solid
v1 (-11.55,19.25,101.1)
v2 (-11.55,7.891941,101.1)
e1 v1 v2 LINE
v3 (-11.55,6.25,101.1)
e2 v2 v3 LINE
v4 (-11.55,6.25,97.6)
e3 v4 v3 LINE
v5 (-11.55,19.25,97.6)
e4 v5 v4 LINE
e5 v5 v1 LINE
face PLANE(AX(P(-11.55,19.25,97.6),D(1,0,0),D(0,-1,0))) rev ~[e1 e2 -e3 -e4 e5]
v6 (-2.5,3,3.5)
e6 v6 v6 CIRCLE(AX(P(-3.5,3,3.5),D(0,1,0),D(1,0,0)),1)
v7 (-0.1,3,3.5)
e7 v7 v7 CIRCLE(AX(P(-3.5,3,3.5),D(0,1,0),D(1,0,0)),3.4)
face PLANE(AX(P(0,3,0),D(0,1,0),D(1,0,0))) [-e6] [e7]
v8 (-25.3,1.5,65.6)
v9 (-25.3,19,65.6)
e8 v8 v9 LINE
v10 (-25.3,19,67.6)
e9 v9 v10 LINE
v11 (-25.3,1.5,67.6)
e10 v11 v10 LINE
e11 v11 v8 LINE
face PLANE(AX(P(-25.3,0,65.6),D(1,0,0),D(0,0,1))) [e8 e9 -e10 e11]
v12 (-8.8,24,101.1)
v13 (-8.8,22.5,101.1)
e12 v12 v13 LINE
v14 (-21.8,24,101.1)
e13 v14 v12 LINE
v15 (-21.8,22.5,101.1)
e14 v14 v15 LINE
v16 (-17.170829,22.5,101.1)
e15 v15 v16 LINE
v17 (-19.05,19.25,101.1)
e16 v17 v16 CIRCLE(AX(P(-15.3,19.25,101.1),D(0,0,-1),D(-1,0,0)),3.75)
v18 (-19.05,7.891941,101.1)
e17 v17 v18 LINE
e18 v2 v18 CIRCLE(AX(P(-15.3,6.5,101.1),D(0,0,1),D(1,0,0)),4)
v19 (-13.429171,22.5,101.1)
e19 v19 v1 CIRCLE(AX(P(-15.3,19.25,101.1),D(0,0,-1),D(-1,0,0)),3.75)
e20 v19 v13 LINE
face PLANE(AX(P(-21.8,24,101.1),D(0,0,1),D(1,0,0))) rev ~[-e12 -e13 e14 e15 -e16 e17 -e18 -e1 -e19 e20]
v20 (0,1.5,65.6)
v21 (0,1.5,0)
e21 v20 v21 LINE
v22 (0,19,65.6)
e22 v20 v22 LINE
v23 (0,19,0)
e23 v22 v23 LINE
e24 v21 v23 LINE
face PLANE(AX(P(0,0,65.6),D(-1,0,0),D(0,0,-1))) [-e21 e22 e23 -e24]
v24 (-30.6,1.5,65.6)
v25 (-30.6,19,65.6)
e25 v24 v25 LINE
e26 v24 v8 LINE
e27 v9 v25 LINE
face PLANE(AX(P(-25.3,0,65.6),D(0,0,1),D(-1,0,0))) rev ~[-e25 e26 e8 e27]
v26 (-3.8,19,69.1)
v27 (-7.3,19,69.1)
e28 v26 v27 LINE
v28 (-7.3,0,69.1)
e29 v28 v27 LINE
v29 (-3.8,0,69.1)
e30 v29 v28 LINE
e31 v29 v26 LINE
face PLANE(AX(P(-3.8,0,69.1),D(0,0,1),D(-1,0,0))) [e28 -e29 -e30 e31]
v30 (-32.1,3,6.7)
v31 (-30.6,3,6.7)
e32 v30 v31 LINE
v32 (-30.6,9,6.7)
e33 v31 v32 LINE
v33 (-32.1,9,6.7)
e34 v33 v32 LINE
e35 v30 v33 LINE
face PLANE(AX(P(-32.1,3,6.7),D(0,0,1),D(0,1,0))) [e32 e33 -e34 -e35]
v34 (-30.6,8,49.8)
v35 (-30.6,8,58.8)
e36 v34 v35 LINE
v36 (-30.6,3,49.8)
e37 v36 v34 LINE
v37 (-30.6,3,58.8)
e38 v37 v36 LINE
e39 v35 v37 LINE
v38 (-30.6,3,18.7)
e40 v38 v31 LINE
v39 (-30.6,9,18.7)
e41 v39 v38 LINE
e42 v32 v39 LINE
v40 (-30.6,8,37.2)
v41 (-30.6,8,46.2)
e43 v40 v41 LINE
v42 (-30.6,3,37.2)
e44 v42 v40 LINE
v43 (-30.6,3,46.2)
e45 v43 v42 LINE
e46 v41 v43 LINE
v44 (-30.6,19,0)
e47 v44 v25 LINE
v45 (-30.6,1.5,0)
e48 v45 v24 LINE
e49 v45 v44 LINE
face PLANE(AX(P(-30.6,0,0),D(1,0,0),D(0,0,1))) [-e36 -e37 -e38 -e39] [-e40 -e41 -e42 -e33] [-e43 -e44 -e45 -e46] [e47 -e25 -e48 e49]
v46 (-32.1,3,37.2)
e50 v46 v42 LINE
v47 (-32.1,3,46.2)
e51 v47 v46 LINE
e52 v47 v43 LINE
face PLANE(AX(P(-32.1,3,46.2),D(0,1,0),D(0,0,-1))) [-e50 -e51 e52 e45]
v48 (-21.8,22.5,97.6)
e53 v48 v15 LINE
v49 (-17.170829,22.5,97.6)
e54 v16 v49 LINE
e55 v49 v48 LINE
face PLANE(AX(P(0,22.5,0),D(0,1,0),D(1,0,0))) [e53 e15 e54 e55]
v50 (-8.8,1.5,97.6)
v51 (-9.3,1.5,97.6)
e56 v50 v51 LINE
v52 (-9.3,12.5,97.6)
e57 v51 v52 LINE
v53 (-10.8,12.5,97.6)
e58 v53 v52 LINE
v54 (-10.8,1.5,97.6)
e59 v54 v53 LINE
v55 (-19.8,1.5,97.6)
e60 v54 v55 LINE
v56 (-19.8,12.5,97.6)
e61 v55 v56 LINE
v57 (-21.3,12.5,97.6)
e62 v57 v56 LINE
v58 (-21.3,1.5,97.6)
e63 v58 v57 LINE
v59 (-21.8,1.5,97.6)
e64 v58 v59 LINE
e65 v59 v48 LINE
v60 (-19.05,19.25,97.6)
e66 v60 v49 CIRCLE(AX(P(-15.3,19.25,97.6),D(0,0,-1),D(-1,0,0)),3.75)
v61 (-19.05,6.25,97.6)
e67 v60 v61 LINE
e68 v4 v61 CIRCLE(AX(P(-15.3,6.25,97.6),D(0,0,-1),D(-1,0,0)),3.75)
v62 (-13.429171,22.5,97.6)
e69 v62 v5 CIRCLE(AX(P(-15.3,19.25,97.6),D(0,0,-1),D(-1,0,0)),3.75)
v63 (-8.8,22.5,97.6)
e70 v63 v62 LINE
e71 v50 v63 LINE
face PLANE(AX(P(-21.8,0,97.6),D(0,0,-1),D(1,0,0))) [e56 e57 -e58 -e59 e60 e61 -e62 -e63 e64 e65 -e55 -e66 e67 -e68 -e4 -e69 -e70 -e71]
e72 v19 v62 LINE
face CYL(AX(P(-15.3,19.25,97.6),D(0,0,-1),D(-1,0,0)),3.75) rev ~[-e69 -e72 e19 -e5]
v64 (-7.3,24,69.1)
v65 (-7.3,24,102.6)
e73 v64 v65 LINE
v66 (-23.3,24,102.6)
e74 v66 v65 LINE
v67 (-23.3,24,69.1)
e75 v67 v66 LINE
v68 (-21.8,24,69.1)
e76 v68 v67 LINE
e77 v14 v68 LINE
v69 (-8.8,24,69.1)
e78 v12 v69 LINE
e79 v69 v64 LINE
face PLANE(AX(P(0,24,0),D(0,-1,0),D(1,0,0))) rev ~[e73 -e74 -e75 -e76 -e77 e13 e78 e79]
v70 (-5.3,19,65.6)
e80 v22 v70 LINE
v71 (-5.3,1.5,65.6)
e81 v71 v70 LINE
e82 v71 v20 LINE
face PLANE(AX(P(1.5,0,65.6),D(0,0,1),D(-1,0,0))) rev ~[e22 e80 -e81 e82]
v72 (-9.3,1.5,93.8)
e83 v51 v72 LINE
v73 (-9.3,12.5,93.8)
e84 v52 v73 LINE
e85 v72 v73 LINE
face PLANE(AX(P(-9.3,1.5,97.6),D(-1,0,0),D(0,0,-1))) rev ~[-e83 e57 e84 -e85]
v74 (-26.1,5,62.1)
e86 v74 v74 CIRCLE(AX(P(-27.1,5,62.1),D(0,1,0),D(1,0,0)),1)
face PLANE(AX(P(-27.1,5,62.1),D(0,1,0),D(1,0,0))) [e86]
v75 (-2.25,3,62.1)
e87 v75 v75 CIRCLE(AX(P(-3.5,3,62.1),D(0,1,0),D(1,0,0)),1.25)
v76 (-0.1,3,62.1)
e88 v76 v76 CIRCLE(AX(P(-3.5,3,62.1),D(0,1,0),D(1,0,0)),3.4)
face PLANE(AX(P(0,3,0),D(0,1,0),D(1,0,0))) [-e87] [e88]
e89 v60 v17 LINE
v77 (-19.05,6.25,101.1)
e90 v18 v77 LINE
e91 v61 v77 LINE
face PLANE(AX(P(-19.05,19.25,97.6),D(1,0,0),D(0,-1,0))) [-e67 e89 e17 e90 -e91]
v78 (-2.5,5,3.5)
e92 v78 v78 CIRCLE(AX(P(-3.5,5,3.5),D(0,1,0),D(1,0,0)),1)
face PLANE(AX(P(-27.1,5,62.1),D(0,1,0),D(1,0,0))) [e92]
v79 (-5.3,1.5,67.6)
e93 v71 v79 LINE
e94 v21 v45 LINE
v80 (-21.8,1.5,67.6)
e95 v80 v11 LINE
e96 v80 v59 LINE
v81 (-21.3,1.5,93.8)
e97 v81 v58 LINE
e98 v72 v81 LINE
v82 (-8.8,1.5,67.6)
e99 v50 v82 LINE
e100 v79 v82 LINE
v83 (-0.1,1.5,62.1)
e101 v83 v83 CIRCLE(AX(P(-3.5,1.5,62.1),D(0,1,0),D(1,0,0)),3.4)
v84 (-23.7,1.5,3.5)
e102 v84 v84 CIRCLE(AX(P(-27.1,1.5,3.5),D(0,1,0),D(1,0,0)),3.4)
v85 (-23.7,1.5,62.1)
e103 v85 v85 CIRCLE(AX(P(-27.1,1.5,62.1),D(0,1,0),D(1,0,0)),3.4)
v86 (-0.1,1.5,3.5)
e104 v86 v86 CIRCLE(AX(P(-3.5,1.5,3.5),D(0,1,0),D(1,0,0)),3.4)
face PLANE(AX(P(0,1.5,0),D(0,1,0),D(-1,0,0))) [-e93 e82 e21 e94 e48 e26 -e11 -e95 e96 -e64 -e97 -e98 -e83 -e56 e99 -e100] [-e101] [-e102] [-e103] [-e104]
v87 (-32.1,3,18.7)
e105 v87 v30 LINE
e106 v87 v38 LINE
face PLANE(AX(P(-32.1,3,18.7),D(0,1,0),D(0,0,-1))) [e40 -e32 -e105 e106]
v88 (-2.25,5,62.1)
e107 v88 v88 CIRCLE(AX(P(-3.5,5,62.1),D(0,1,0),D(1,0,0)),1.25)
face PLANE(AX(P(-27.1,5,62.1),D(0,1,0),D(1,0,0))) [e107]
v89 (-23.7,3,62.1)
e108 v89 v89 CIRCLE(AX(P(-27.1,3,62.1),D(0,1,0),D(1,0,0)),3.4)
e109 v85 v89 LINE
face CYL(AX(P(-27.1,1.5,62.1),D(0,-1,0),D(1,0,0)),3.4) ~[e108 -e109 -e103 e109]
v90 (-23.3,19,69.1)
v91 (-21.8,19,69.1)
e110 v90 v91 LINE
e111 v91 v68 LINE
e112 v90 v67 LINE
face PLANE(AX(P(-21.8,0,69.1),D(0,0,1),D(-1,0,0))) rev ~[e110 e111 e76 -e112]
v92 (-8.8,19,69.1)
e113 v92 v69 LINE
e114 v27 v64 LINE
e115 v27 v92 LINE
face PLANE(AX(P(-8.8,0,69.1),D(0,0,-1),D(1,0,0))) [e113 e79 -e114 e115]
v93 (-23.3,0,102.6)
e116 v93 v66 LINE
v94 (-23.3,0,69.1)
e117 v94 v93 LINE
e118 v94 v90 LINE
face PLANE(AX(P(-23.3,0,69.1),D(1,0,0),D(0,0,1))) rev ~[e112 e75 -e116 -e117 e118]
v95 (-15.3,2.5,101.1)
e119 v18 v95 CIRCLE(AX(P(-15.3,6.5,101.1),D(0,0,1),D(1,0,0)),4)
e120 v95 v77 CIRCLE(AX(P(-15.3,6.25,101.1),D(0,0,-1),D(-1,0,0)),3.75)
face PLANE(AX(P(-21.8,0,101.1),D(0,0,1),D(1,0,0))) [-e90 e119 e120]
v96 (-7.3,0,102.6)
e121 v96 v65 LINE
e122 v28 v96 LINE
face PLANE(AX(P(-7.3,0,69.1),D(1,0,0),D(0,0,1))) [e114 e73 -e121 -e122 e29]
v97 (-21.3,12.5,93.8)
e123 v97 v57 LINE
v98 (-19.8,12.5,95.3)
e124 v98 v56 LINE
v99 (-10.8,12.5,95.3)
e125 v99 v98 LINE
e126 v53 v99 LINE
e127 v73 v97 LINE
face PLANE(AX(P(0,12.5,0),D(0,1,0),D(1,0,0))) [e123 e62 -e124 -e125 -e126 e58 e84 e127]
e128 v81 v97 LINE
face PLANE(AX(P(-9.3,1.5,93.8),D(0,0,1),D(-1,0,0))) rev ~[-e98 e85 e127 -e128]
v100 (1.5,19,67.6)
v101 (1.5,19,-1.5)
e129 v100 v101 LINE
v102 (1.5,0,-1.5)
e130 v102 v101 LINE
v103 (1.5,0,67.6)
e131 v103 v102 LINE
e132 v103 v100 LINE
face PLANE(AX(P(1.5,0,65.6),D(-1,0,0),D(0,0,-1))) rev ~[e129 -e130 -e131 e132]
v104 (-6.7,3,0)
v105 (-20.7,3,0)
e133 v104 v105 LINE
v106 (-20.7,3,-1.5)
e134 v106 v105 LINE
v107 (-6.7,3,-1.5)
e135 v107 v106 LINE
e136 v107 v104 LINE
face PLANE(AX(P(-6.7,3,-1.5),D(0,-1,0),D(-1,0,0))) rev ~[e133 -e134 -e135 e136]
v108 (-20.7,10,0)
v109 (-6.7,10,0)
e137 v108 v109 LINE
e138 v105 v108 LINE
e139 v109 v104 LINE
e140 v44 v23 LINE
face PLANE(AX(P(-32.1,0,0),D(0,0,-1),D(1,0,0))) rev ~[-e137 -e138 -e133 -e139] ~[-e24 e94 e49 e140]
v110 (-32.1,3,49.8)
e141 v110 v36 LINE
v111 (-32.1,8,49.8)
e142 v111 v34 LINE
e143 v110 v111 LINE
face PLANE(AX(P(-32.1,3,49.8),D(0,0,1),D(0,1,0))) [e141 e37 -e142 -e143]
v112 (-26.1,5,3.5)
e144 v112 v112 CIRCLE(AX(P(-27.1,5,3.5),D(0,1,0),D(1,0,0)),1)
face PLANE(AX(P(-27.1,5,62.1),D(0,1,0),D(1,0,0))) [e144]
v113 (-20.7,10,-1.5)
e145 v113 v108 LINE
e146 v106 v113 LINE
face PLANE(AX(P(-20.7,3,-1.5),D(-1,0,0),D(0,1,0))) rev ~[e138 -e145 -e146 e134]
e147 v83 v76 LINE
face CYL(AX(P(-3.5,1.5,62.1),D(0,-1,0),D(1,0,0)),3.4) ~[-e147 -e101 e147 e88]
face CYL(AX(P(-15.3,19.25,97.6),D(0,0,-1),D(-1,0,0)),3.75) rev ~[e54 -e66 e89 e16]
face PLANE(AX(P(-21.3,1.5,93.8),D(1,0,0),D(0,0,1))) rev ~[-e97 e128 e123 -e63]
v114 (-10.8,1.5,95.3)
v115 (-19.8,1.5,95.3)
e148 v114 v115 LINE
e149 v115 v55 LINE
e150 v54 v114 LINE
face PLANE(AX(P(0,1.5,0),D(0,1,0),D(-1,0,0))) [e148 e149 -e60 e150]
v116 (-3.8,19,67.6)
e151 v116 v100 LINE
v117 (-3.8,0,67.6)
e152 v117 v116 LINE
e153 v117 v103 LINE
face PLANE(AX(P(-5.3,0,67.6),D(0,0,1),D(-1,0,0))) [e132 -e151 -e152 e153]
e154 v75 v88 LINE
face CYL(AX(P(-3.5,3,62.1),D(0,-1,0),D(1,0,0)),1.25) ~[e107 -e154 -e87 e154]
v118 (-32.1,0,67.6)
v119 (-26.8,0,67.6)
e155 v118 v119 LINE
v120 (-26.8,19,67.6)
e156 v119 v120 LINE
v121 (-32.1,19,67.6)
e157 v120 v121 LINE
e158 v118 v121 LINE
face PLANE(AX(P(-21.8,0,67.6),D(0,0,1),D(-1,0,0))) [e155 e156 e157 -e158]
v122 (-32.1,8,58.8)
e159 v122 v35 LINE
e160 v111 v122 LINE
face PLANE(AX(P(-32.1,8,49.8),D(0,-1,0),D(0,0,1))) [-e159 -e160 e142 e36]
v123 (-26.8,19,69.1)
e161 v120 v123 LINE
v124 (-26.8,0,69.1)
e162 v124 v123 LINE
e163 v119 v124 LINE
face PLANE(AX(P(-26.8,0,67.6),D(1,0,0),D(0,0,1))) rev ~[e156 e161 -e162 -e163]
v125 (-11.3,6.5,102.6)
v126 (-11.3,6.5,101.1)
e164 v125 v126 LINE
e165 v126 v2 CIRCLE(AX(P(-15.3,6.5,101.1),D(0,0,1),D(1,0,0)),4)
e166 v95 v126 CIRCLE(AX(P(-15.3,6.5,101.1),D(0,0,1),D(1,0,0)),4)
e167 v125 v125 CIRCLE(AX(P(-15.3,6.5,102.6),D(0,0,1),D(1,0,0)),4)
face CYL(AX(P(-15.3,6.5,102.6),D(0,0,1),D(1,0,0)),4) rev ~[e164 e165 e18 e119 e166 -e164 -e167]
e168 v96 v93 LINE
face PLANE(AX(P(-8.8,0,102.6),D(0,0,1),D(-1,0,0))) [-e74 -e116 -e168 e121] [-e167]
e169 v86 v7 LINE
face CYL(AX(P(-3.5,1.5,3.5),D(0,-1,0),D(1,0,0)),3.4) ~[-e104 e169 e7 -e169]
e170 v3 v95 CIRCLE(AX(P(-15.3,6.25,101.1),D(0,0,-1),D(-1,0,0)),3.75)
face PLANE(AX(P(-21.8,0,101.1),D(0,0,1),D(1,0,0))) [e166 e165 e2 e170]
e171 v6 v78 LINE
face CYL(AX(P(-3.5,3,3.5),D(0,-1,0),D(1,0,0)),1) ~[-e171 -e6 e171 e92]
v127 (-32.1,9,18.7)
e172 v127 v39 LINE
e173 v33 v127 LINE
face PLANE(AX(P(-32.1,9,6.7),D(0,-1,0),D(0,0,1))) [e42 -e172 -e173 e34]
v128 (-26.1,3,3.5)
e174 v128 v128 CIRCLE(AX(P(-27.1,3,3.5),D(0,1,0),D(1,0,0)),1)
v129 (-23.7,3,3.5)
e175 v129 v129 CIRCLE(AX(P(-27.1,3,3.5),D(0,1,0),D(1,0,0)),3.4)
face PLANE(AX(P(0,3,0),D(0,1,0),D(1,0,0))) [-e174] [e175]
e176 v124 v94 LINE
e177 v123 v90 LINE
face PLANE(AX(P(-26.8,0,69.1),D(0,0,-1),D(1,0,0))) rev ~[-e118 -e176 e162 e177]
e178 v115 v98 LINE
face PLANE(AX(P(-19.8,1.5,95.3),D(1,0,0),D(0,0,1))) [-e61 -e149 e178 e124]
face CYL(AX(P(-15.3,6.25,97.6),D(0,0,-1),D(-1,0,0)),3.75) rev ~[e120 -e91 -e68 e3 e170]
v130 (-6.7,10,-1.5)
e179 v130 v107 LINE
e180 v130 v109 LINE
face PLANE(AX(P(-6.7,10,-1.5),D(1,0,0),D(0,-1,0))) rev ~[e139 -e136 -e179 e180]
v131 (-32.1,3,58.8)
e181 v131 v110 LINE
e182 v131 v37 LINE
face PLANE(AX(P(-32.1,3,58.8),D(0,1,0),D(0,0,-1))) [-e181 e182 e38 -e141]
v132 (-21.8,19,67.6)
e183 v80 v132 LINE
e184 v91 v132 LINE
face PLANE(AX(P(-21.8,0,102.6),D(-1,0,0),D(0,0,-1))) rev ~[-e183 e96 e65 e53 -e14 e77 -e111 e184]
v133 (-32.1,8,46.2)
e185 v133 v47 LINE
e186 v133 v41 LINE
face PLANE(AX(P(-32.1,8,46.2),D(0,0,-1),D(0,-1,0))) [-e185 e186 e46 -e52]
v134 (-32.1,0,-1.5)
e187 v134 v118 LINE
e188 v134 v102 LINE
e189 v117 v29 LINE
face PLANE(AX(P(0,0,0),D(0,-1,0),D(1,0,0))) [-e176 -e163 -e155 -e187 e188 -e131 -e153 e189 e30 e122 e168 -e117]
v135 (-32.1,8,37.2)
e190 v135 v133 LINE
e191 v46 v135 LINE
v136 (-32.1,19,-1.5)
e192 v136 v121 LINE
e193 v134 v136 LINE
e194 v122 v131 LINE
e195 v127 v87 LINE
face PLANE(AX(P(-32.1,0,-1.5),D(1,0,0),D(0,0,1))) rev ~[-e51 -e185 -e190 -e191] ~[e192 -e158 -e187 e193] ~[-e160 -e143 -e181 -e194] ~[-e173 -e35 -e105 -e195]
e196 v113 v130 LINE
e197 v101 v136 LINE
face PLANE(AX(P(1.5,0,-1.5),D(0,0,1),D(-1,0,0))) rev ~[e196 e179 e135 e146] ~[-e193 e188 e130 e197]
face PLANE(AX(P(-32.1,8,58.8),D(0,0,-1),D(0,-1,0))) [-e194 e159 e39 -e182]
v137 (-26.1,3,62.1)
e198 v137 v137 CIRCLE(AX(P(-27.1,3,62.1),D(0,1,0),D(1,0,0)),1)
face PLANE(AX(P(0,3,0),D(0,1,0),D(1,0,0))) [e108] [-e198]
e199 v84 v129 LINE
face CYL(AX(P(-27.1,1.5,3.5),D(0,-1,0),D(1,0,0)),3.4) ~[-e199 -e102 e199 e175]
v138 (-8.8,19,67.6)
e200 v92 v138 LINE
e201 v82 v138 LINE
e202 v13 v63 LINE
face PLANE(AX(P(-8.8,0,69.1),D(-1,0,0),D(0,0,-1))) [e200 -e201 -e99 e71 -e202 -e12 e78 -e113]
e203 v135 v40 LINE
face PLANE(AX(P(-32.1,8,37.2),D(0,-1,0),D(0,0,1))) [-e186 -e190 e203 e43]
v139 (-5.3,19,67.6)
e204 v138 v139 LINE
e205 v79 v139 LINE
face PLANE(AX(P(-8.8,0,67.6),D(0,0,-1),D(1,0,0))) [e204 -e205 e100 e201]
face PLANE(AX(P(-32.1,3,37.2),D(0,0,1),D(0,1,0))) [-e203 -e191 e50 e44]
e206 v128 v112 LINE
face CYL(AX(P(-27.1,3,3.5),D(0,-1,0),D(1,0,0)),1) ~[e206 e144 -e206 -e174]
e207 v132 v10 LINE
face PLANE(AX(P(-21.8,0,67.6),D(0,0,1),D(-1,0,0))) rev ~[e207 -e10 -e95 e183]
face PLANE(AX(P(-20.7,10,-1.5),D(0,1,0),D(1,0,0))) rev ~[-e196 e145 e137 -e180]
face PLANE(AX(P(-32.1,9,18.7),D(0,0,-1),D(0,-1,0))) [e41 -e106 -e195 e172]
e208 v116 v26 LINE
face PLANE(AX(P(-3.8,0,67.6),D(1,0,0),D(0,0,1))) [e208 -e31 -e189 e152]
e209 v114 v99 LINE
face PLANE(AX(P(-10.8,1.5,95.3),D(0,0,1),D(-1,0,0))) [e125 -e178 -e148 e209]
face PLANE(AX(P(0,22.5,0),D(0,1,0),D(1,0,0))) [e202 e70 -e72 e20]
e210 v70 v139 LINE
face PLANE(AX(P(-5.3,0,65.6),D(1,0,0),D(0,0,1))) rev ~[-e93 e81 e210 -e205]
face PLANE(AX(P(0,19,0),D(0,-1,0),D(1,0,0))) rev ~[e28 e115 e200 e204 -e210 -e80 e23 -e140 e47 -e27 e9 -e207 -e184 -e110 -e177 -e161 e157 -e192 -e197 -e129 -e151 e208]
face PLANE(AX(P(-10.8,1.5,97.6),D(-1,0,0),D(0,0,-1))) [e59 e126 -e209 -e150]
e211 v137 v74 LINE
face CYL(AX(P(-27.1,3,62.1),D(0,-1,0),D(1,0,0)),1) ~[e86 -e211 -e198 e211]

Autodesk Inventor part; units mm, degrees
ref_plane "YZ Plane" through (0, 0, 0) normal (1, 0, 0) x (0, 1, 0)
ref_plane "XZ Plane" through (0, 0, 0) normal (0, 1, 0) x (-1, 0, 0)
ref_plane "XY Plane" through (0, 0, 0) normal (0, 0, 1) x (1, 0, 0)
sketch "Szkic1" plane through (0, 0, 0) normal (0, 1, 0) x (-1, 0, 0)
  line L0 (0, 0) -> (30.6, 0)
  line L1 (30.6, 0) -> (30.6, 65.6)
  line L2 (30.6, 65.6) -> (0, 65.6)
  line L3 (0, 65.6) -> (0, 0)
  dimension "d0" = 30.6
  dimension "d1" = 65.6
extrude "Wyciągnięcie proste1" add sketch "Szkic1" along normal blind 1.5
sketch "Szkic2" plane through (0, 1.5, 0) normal (0, 1, 0) x (1, 0, 0)
  line L0 (-30.6, 0) -> (-30.6, -65.6) construction
  line L1 (-30.6, -65.6) -> (-30.6, -62.1) construction
  line L2 (-30.6, -62.1) -> (-27.1, -62.1) construction
  line L3 (0, 0) -> (-30.6, 0) construction
  line L4 (0, 0) -> (-3.5, 0) construction
  line L5 (-3.5, 0) -> (-3.5, -3.5) construction
  line L6 (-30.6, -65.6) -> (0, -65.6) construction
  line L7 (0, -65.6) -> (-3.5, -65.6) construction
  line L8 (-3.5, -65.6) -> (-3.5, -62.1) construction
  line L9 (-3.5, -62.1) -> (0, -62.1) construction
  line L10 (0, -62.1) -> (0, -65.6) construction
  line L11 (-30.6, 0) -> (-27.1, 0) construction
  line L12 (-27.1, 0) -> (-27.1, -3.5) construction
  line L13 (-27.1, -3.5) -> (-30.6, -3.5) construction
  line L14 (-30.6, -3.5) -> (-30.6, 0) construction
  circle A0 centre (-27.1, -62.1) radius 3.4
  circle A1 centre (-3.5, -62.1) radius 3.4
  circle A2 centre (-3.5, -3.5) radius 3.4
  circle A3 centre (-27.1, -3.5) radius 3.4
  dimension "d4" = 3.5
  dimension "d5" = 3.5
  dimension "d6" = 3.5
  dimension "d7" = 3.5
  dimension "d8" = 3.5
  dimension "d9" = 3.5
  dimension "d10" = 3.5
  dimension "d11" = 3.5
  dimension "d12" = 6.8
  dimension "d13" = 6.8
  dimension "d14" = 6.8
  dimension "d15" = 6.8
extrude "Wyciągnięcie proste2" add sketch "Szkic2" along normal blind 1.5
sketch "Szkic3" plane through (-27.1, 3, 62.1) normal (0, 1, 0) x (1, 0, 0)
  circle A0 centre (23.6, 0) radius 3.4 projected
  circle A1 centre (23.6, 0) radius 1.25
  circle A2 centre (0, 0) radius 3.4 projected
  circle A3 centre (0, 0) radius 1
  circle A4 centre (0, 58.6) radius 3.4 projected
  circle A5 centre (0, 58.6) radius 1
  circle A6 centre (23.6, 58.6) radius 3.4 projected
  circle A7 centre (23.6, 58.6) radius 1
  point P0 (27.1, 62.1)
  dimension "d18" = 2.5
  dimension "d19" = 2
  dimension "d20" = 2
  dimension "d21" = 2
extrude "Wyciągnięcie proste3" add sketch "Szkic3" along normal blind 2 contours A1 | A3 | A5 | A7
sketch "Szkic4" plane through (0, 0, 0) normal (0, -1, 0) x (1, 0, 0)
  line L0 (-30.6, 65.6) -> (0, 65.6) construction
  line L1 (-15.3, 65.6) -> (-25.3, 65.6) construction
  line L2 (-25.3, 65.6) -> (-5.3, 65.6)
  line L3 (-5.3, 65.6) -> (-5.3, 67.6)
  line L4 (-5.3, 67.6) -> (-25.3, 67.6)
  line L5 (-25.3, 67.6) -> (-25.3, 65.6)
  line L6 (-15.3, 67.6) -> (-21.8, 67.6) construction
  line L7 (-21.8, 67.6) -> (-8.8, 67.6)
  line L8 (-8.8, 67.6) -> (-8.8, 97.6)
  line L9 (-8.8, 97.6) -> (-21.8, 97.6)
  line L10 (-21.8, 97.6) -> (-21.8, 67.6)
  point P0 (0, 0)
  dimension "d24" = 10
  dimension "d25" = 20
  dimension "d26" = 2
  dimension "d27" = 6.5
  dimension "d28" = 13
  dimension "d29" = 30
extrude "Wyciągnięcie proste4" add sketch "Szkic4" against normal blind 1.5
sketch "Szkic5" plane through (0, 1.5, 0) normal (0, 1, 0) x (1, 0, 0)
  point P0 (0, 0)
sketch "Szkic6" plane through (0, 0, 0) normal (0, -1, 0) x (1, 0, 0)
  line L0 (-21.8, 97.6) -> (-8.8, 97.6) projected
  line L1 (-8.8, 97.6) -> (-21.8, 97.6)
  line L2 (-21.8, 97.6) -> (-21.8, 101.1)
  line L3 (-21.8, 101.1) -> (-8.8, 101.1)
  line L4 (-8.8, 101.1) -> (-8.8, 97.6)
  point P0 (0, 0)
  dimension "d32" = 13
  dimension "d33" = 3.5
extrude "Wyciągnięcie proste5" add sketch "Szkic6" against normal blind 24
sketch "Szkic7" plane through (0, 1.5, 0) normal (0, 1, 0) x (1, 0, 0)
  line L0 (-21.8, -97.6) -> (-8.8, -97.6) construction
  line L1 (-21.8, -97.6) -> (-19.8, -97.6) construction
  line L2 (-19.8, -97.6) -> (-10.8, -97.6)
  line L3 (-10.8, -97.6) -> (-10.8, -95.3)
  line L4 (-10.8, -95.3) -> (-19.8, -95.3)
  line L5 (-19.8, -95.3) -> (-19.8, -97.6)
  line L6 (-21.8, -97.6) -> (-21.3, -97.6) construction
  line L7 (-21.3, -97.6) -> (-9.3, -97.6)
  line L8 (-9.3, -97.6) -> (-9.3, -93.8)
  line L9 (-9.3, -93.8) -> (-21.3, -93.8)
  line L10 (-21.3, -93.8) -> (-21.3, -97.6)
  point P0 (0, 0)
  dimension "d36" = 2
  dimension "d37" = 9
  dimension "d38" = 2.3
  dimension "d39" = 0.5
  dimension "d40" = 12
  dimension "d41" = 3.8
extrude "Wyciągnięcie proste6" add sketch "Szkic7" along normal blind 11 contours L7 L10 L9 L8 L3 L4 L5
sketch "Szkic8" plane through (-8.8, 24, 97.6) normal (0, 0, -1) x (-1, 0, 0)
  line L0 (11, -11.5) -> (2, -11.5) construction
  line L1 (6.5, -11.5) -> (6.5, -8.5) construction
  line L2 (6.5, -8.5) -> (6.5, -4.75) construction
  circle A0 centre (6.5, -4.75) radius 3.75
  line L3 (11, -22.5) -> (2, -22.5) construction
  line L4 (6.5, -22.5) -> (6.5, -17.75) construction
  circle A1 centre (6.5, -17.75) radius 3.75
  line L5 (10.25, -4.75) -> (10.25, -17.75)
  line L6 (2.75, -4.75) -> (2.75, -17.75)
  point P0 (-8.8, -24)
  dimension "d44" = 3
  dimension "d45" = 3.75
  dimension "d46" = 7.5
  dimension "d47" = 4.75
  dimension "d48" = 7.5
extrude "Wyciągnięcie proste7" cut sketch "Szkic8" against normal blind 11
sketch "Szkic9" plane through (0, 0, 0) normal (0, -1, 0) x (1, 0, 0)
  line L0 (-21.8, 101.1) -> (-8.8, 101.1)
  line L1 (-8.8, 101.1) -> (-8.8, 102.6)
  line L2 (-8.8, 102.6) -> (-21.8, 102.6)
  line L3 (-21.8, 102.6) -> (-21.8, 101.1)
  point P0 (0, 0)
  dimension "d51" = 13
  dimension "d52" = 1.5
extrude "Wyciągnięcie proste8" add sketch "Szkic9" against normal blind 24
sketch "Szkic10" plane through (-21.8, 0, 102.6) normal (0, 0, 1) x (1, 0, 0)
  line L0 (13, 0) -> (0, 0) construction
  line L1 (6.5, 0) -> (6.5, 6.5) construction
  circle A0 centre (6.5, 6.5) radius 4
  point P0 (21.8, 0)
  dimension "d55" = 6.5
  dimension "d56" = 8
extrude "Wyciągnięcie proste9" cut sketch "Szkic10" against normal blind 1.5
sketch "Szkic11" plane through (0, 24, 0) normal (0, 1, 0) x (1, 0, 0)
  line L0 (-8.8, -97.6) -> (-21.8, -97.6)
  line L1 (-21.8, -97.6) -> (-21.8, -101.1)
  line L2 (-21.8, -101.1) -> (-8.8, -101.1)
  line L3 (-8.8, -101.1) -> (-8.8, -97.6)
  point P0 (0, 0)
  dimension "d59" = 13
  dimension "d60" = 3.5
extrude "Wyciągnięcie proste10" cut sketch "Szkic11" against normal blind 1.5
sketch "Szkic12" plane through (0, 0, 0) normal (0, -1, 0) x (1, 0, 0)
  line L0 (-30.6, 0) -> (-30.6, 65.6) projected
  line L1 (-30.6, 65.6) -> (-32.1, 65.6)
  line L2 (-32.1, 65.6) -> (-32.1, 0)
  line L3 (-32.1, 0) -> (-30.6, 0)
  line L4 (-30.6, 0) -> (-30.6, 65.6)
  point P0 (0, 0)
  dimension "d63" = 1.5
  dimension "d64" = 65.6
extrude "Wyciągnięcie proste11" add sketch "Szkic12" against normal blind 19
sketch "Szkic13" plane through (-32.1, 0, 0) normal (-1, 0, 0) x (0, 0, 1)
  line L0 (65.6, 0) -> (65.6, 1.5) construction
  line L1 (65.6, 0) -> (65.6, 3) construction
  line L2 (65.6, 1.5) -> (65.6, 19) construction
  line L3 (65.6, 3) -> (0, 3) construction
  line L4 (0, 3) -> (54.3, 3) construction
  line L5 (0, 3) -> (41.7, 3) construction
  line L6 (0, 3) -> (12.7, 3) construction
  line L7 (54.3, 3) -> (58.8, 3) construction
  line L8 (41.7, 3) -> (46.2, 3) construction
  line L9 (46.2, 3) -> (37.2, 3)
  line L10 (37.2, 3) -> (37.2, 8)
  line L11 (37.2, 8) -> (46.2, 8)
  line L12 (46.2, 8) -> (46.2, 3)
  line L13 (58.8, 3) -> (49.8, 3)
  line L14 (49.8, 3) -> (49.8, 8)
  line L15 (49.8, 8) -> (58.8, 8)
  line L16 (58.8, 8) -> (58.8, 3)
  line L17 (12.7, 3) -> (18.7, 3) construction
  line L18 (18.7, 3) -> (6.7, 3)
  line L19 (6.7, 3) -> (6.7, 9)
  line L20 (6.7, 9) -> (18.7, 9)
  line L21 (18.7, 9) -> (18.7, 3)
  point P0 (0, 0)
  dimension "d67" = 3
  dimension "d68" = 54.3
  dimension "d69" = 41.7
  dimension "d70" = 12.7
  dimension "d71" = 4.5
  dimension "d72" = 4.5
  dimension "d73" = 9
  dimension "d74" = 5
  dimension "d75" = 9
  dimension "d76" = 5
  dimension "d77" = 6
  dimension "d78" = 12
  dimension "d79" = 6
extrude "Wyciągnięcie proste12" cut sketch "Szkic13" against normal blind 1.5
sketch "Szkic14" plane through (0, 0, 0) normal (0, -1, 0) x (1, 0, 0)
  line L0 (-32.1, 65.6) -> (-32.1, 0) projected
  line L1 (-32.1, 0) -> (0, 0)
  line L2 (0, 0) -> (0, -1.5)
  line L3 (0, -1.5) -> (-32.1, -1.5)
  line L4 (-32.1, -1.5) -> (-32.1, 0)
  dimension "d82" = 32.1
  dimension "d83" = 1.5
extrude "Wyciągnięcie proste13" add sketch "Szkic14" against normal blind 19
sketch "Szkic15" plane through (0, 0, -1.5) normal (0, 0, -1) x (-1, 0, 0)
  line L0 (32.1, 0) -> (32.1, 19) construction
  line L1 (32.1, 0) -> (32.1, 3) construction
  line L2 (6.9, 3) -> (0.1, 3) construction
  line L3 (32.1, 3) -> (0.1, 3) construction
  line L4 (0.1, 3) -> (6.7, 3) construction
  line L5 (6.7, 3) -> (20.7, 3)
  line L6 (20.7, 3) -> (20.7, 10)
  line L7 (20.7, 10) -> (6.7, 10)
  line L8 (6.7, 10) -> (6.7, 3)
  point P0 (0, 0)
  dimension "d86" = 3
  dimension "d87" = 6.6
  dimension "d88" = 14
  dimension "d89" = 7
extrude "Wyciągnięcie proste14" cut sketch "Szkic15" against normal blind 1.5
sketch "Szkic16" plane through (0, 0, 0) normal (0, -1, 0) x (1, 0, 0)
  line L0 (0, 65.6) -> (0, 0) projected
  line L1 (0, 65.6) -> (1.5, 65.6)
  line L2 (1.5, 65.6) -> (1.5, -1.5)
  line L3 (1.5, -1.5) -> (0, -1.5)
  line L4 (0, -1.5) -> (0, 65.6)
  dimension "d92" = 1.5
extrude "Wyciągnięcie proste15" add sketch "Szkic16" against normal blind 19
sketch "Szkic17" plane through (0, 0, 0) normal (0, -1, 0) x (1, 0, 0)
  point P0 (0, 0)
sketch "Szkic18" plane through (0, 0, 0) normal (0, -1, 0) x (1, 0, 0)
  line L0 (1.5, 65.6) -> (1.5, -1.5) projected
  line L1 (-5.3, 65.6) -> (-5.3, 67.6) projected
  line L2 (1.5, 65.6) -> (-5.3, 65.6)
  line L3 (-5.3, 65.6) -> (-5.3, 67.6)
  line L4 (-5.3, 67.6) -> (1.5, 67.6)
  line L5 (1.5, 67.6) -> (1.5, 65.6)
  line L6 (-25.3, 65.6) -> (-32.1, 65.6) projected
  line L7 (-21.8, 67.6) -> (-25.3, 67.6) projected
  line L8 (-32.1, 65.6) -> (-25.3, 65.6)
  line L9 (-25.3, 65.6) -> (-25.3, 67.6)
  line L10 (-25.3, 67.6) -> (-32.1, 67.6)
  line L11 (-32.1, 67.6) -> (-32.1, 65.6)
  point P0 (0, 0)
extrude "Wyciągnięcie proste16" add sketch "Szkic18" against normal blind 19
sketch "Szkic19" plane through (0, 0, 0) normal (0, -1, 0) x (1, 0, 0)
  line L0 (-8.8, 97.6) -> (-8.8, 67.6) construction
  line L1 (-8.8, 67.6) -> (-7.3, 67.6) construction
  line L2 (-7.3, 67.6) -> (-7.3, 69.1) construction
  line L3 (-7.3, 69.1) -> (-8.8, 69.1) construction
  line L4 (-8.8, 69.1) -> (-8.8, 67.6) construction
  line L5 (-21.8, 67.6) -> (-21.8, 97.6) construction
  line L6 (-21.8, 67.6) -> (-23.3, 67.6) construction
  line L7 (-23.3, 67.6) -> (-23.3, 69.1) construction
  line L8 (-23.3, 69.1) -> (-21.8, 69.1) construction
  line L9 (-21.8, 69.1) -> (-21.8, 67.6) construction
  line L10 (-5.3, 67.6) -> (1.5, 67.6) construction
  line L11 (-5.3, 67.6) -> (-5.3, 69.1) construction
  line L12 (-25.3, 67.6) -> (-21.8, 67.6) construction
  line L13 (-25.3, 67.6) -> (-25.3, 69.1) construction
  line L14 (-5.3, 69.1) -> (-3.8, 69.1) construction
  line L15 (-3.8, 69.1) -> (-3.8, 67.6) construction
  line L16 (-3.8, 67.6) -> (-5.3, 67.6) construction
  line L17 (-5.3, 67.6) -> (-5.3, 69.1) construction
  line L18 (-25.3, 69.1) -> (-26.8, 69.1) construction
  line L19 (-26.8, 69.1) -> (-26.8, 67.6) construction
  line L20 (-26.8, 67.6) -> (-25.3, 67.6) construction
  line L21 (-25.3, 67.6) -> (-25.3, 69.1) construction
  line L22 (-8.8, 67.6) -> (-8.8, 102.6) construction
  line L23 (-8.8, 102.6) -> (-7.3, 102.6) construction
  line L24 (-21.8, 102.6) -> (-21.8, 67.6) construction
  line L25 (-21.8, 102.6) -> (-23.3, 102.6) construction
  line L26 (-7.3, 102.6) -> (-8.8, 102.6)
  line L27 (-8.8, 102.6) -> (-8.8, 69.1)
  line L28 (-8.8, 69.1) -> (-7.3, 69.1)
  line L29 (-7.3, 69.1) -> (-7.3, 102.6)
  line L30 (-23.3, 102.6) -> (-21.8, 102.6)
  line L31 (-21.8, 102.6) -> (-21.8, 69.1)
  line L32 (-21.8, 69.1) -> (-23.3, 69.1)
  line L33 (-23.3, 69.1) -> (-23.3, 102.6)
  line L34 (-8.8, 67.6) -> (-5.3, 67.6) projected
  line L35 (-3.8, 69.1) -> (-8.8, 69.1)
  line L36 (-8.8, 69.1) -> (-8.8, 67.6)
  line L37 (-8.8, 67.6) -> (-3.8, 67.6)
  line L38 (-3.8, 67.6) -> (-3.8, 69.1)
  line L39 (-26.8, 67.6) -> (-21.8, 67.6)
  line L40 (-21.8, 67.6) -> (-21.8, 69.1)
  line L41 (-21.8, 69.1) -> (-26.8, 69.1)
  line L42 (-26.8, 69.1) -> (-26.8, 67.6)
  point P0 (0, 0)
  dimension "d97" = 1.5
  dimension "d98" = 1.5
  dimension "d99" = 1.5
  dimension "d100" = 1.5
  dimension "d101" = 1.5
  dimension "d102" = 1.5
  dimension "d103" = 1.5
  dimension "d104" = 1.5
  dimension "d105" = 1.5
  dimension "d106" = 1.5
extrude "Wyciągnięcie proste17" add sketch "Szkic19" against normal blind 24 contours L29 L28 L27 L26 | L30 L31 L32 L33
sketch "Szkic20" plane through (0, 0, 0) normal (0, -1, 0) x (1, 0, 0)
  line L0 (-25.3, 67.6) -> (-21.8, 67.6) construction
  line L1 (-25.3, 67.6) -> (-26.8, 67.6) construction
  line L2 (-26.8, 67.6) -> (-26.8, 69.1) construction
  line L3 (-26.8, 69.1) -> (-25.3, 69.1) construction
  line L4 (-25.3, 69.1) -> (-25.3, 67.6) construction
  line L5 (-8.8, 67.6) -> (-5.3, 67.6) construction
  line L6 (-5.3, 67.6) -> (-3.8, 67.6) construction
  line L7 (-3.8, 67.6) -> (-3.8, 69.1) construction
  line L8 (-3.8, 69.1) -> (-5.3, 69.1) construction
  line L9 (-5.3, 69.1) -> (-5.3, 67.6) construction
  line L10 (-26.8, 69.1) -> (-21.8, 69.1)
  line L11 (-21.8, 69.1) -> (-21.8, 67.6)
  line L12 (-21.8, 67.6) -> (-26.8, 67.6)
  line L13 (-26.8, 67.6) -> (-26.8, 69.1)
  line L14 (-8.8, 67.6) -> (-3.8, 67.6)
  line L15 (-3.8, 67.6) -> (-3.8, 69.1)
  line L16 (-3.8, 69.1) -> (-8.8, 69.1)
  line L17 (-8.8, 69.1) -> (-8.8, 67.6)
  point P0 (0, 0)
  dimension "d109" = 1.5
  dimension "d110" = 1.5
  dimension "d111" = 1.5
  dimension "d112" = 1.5
extrude "Wyciągnięcie proste18" add sketch "Szkic20" against normal blind 19
properties part number "dol"
